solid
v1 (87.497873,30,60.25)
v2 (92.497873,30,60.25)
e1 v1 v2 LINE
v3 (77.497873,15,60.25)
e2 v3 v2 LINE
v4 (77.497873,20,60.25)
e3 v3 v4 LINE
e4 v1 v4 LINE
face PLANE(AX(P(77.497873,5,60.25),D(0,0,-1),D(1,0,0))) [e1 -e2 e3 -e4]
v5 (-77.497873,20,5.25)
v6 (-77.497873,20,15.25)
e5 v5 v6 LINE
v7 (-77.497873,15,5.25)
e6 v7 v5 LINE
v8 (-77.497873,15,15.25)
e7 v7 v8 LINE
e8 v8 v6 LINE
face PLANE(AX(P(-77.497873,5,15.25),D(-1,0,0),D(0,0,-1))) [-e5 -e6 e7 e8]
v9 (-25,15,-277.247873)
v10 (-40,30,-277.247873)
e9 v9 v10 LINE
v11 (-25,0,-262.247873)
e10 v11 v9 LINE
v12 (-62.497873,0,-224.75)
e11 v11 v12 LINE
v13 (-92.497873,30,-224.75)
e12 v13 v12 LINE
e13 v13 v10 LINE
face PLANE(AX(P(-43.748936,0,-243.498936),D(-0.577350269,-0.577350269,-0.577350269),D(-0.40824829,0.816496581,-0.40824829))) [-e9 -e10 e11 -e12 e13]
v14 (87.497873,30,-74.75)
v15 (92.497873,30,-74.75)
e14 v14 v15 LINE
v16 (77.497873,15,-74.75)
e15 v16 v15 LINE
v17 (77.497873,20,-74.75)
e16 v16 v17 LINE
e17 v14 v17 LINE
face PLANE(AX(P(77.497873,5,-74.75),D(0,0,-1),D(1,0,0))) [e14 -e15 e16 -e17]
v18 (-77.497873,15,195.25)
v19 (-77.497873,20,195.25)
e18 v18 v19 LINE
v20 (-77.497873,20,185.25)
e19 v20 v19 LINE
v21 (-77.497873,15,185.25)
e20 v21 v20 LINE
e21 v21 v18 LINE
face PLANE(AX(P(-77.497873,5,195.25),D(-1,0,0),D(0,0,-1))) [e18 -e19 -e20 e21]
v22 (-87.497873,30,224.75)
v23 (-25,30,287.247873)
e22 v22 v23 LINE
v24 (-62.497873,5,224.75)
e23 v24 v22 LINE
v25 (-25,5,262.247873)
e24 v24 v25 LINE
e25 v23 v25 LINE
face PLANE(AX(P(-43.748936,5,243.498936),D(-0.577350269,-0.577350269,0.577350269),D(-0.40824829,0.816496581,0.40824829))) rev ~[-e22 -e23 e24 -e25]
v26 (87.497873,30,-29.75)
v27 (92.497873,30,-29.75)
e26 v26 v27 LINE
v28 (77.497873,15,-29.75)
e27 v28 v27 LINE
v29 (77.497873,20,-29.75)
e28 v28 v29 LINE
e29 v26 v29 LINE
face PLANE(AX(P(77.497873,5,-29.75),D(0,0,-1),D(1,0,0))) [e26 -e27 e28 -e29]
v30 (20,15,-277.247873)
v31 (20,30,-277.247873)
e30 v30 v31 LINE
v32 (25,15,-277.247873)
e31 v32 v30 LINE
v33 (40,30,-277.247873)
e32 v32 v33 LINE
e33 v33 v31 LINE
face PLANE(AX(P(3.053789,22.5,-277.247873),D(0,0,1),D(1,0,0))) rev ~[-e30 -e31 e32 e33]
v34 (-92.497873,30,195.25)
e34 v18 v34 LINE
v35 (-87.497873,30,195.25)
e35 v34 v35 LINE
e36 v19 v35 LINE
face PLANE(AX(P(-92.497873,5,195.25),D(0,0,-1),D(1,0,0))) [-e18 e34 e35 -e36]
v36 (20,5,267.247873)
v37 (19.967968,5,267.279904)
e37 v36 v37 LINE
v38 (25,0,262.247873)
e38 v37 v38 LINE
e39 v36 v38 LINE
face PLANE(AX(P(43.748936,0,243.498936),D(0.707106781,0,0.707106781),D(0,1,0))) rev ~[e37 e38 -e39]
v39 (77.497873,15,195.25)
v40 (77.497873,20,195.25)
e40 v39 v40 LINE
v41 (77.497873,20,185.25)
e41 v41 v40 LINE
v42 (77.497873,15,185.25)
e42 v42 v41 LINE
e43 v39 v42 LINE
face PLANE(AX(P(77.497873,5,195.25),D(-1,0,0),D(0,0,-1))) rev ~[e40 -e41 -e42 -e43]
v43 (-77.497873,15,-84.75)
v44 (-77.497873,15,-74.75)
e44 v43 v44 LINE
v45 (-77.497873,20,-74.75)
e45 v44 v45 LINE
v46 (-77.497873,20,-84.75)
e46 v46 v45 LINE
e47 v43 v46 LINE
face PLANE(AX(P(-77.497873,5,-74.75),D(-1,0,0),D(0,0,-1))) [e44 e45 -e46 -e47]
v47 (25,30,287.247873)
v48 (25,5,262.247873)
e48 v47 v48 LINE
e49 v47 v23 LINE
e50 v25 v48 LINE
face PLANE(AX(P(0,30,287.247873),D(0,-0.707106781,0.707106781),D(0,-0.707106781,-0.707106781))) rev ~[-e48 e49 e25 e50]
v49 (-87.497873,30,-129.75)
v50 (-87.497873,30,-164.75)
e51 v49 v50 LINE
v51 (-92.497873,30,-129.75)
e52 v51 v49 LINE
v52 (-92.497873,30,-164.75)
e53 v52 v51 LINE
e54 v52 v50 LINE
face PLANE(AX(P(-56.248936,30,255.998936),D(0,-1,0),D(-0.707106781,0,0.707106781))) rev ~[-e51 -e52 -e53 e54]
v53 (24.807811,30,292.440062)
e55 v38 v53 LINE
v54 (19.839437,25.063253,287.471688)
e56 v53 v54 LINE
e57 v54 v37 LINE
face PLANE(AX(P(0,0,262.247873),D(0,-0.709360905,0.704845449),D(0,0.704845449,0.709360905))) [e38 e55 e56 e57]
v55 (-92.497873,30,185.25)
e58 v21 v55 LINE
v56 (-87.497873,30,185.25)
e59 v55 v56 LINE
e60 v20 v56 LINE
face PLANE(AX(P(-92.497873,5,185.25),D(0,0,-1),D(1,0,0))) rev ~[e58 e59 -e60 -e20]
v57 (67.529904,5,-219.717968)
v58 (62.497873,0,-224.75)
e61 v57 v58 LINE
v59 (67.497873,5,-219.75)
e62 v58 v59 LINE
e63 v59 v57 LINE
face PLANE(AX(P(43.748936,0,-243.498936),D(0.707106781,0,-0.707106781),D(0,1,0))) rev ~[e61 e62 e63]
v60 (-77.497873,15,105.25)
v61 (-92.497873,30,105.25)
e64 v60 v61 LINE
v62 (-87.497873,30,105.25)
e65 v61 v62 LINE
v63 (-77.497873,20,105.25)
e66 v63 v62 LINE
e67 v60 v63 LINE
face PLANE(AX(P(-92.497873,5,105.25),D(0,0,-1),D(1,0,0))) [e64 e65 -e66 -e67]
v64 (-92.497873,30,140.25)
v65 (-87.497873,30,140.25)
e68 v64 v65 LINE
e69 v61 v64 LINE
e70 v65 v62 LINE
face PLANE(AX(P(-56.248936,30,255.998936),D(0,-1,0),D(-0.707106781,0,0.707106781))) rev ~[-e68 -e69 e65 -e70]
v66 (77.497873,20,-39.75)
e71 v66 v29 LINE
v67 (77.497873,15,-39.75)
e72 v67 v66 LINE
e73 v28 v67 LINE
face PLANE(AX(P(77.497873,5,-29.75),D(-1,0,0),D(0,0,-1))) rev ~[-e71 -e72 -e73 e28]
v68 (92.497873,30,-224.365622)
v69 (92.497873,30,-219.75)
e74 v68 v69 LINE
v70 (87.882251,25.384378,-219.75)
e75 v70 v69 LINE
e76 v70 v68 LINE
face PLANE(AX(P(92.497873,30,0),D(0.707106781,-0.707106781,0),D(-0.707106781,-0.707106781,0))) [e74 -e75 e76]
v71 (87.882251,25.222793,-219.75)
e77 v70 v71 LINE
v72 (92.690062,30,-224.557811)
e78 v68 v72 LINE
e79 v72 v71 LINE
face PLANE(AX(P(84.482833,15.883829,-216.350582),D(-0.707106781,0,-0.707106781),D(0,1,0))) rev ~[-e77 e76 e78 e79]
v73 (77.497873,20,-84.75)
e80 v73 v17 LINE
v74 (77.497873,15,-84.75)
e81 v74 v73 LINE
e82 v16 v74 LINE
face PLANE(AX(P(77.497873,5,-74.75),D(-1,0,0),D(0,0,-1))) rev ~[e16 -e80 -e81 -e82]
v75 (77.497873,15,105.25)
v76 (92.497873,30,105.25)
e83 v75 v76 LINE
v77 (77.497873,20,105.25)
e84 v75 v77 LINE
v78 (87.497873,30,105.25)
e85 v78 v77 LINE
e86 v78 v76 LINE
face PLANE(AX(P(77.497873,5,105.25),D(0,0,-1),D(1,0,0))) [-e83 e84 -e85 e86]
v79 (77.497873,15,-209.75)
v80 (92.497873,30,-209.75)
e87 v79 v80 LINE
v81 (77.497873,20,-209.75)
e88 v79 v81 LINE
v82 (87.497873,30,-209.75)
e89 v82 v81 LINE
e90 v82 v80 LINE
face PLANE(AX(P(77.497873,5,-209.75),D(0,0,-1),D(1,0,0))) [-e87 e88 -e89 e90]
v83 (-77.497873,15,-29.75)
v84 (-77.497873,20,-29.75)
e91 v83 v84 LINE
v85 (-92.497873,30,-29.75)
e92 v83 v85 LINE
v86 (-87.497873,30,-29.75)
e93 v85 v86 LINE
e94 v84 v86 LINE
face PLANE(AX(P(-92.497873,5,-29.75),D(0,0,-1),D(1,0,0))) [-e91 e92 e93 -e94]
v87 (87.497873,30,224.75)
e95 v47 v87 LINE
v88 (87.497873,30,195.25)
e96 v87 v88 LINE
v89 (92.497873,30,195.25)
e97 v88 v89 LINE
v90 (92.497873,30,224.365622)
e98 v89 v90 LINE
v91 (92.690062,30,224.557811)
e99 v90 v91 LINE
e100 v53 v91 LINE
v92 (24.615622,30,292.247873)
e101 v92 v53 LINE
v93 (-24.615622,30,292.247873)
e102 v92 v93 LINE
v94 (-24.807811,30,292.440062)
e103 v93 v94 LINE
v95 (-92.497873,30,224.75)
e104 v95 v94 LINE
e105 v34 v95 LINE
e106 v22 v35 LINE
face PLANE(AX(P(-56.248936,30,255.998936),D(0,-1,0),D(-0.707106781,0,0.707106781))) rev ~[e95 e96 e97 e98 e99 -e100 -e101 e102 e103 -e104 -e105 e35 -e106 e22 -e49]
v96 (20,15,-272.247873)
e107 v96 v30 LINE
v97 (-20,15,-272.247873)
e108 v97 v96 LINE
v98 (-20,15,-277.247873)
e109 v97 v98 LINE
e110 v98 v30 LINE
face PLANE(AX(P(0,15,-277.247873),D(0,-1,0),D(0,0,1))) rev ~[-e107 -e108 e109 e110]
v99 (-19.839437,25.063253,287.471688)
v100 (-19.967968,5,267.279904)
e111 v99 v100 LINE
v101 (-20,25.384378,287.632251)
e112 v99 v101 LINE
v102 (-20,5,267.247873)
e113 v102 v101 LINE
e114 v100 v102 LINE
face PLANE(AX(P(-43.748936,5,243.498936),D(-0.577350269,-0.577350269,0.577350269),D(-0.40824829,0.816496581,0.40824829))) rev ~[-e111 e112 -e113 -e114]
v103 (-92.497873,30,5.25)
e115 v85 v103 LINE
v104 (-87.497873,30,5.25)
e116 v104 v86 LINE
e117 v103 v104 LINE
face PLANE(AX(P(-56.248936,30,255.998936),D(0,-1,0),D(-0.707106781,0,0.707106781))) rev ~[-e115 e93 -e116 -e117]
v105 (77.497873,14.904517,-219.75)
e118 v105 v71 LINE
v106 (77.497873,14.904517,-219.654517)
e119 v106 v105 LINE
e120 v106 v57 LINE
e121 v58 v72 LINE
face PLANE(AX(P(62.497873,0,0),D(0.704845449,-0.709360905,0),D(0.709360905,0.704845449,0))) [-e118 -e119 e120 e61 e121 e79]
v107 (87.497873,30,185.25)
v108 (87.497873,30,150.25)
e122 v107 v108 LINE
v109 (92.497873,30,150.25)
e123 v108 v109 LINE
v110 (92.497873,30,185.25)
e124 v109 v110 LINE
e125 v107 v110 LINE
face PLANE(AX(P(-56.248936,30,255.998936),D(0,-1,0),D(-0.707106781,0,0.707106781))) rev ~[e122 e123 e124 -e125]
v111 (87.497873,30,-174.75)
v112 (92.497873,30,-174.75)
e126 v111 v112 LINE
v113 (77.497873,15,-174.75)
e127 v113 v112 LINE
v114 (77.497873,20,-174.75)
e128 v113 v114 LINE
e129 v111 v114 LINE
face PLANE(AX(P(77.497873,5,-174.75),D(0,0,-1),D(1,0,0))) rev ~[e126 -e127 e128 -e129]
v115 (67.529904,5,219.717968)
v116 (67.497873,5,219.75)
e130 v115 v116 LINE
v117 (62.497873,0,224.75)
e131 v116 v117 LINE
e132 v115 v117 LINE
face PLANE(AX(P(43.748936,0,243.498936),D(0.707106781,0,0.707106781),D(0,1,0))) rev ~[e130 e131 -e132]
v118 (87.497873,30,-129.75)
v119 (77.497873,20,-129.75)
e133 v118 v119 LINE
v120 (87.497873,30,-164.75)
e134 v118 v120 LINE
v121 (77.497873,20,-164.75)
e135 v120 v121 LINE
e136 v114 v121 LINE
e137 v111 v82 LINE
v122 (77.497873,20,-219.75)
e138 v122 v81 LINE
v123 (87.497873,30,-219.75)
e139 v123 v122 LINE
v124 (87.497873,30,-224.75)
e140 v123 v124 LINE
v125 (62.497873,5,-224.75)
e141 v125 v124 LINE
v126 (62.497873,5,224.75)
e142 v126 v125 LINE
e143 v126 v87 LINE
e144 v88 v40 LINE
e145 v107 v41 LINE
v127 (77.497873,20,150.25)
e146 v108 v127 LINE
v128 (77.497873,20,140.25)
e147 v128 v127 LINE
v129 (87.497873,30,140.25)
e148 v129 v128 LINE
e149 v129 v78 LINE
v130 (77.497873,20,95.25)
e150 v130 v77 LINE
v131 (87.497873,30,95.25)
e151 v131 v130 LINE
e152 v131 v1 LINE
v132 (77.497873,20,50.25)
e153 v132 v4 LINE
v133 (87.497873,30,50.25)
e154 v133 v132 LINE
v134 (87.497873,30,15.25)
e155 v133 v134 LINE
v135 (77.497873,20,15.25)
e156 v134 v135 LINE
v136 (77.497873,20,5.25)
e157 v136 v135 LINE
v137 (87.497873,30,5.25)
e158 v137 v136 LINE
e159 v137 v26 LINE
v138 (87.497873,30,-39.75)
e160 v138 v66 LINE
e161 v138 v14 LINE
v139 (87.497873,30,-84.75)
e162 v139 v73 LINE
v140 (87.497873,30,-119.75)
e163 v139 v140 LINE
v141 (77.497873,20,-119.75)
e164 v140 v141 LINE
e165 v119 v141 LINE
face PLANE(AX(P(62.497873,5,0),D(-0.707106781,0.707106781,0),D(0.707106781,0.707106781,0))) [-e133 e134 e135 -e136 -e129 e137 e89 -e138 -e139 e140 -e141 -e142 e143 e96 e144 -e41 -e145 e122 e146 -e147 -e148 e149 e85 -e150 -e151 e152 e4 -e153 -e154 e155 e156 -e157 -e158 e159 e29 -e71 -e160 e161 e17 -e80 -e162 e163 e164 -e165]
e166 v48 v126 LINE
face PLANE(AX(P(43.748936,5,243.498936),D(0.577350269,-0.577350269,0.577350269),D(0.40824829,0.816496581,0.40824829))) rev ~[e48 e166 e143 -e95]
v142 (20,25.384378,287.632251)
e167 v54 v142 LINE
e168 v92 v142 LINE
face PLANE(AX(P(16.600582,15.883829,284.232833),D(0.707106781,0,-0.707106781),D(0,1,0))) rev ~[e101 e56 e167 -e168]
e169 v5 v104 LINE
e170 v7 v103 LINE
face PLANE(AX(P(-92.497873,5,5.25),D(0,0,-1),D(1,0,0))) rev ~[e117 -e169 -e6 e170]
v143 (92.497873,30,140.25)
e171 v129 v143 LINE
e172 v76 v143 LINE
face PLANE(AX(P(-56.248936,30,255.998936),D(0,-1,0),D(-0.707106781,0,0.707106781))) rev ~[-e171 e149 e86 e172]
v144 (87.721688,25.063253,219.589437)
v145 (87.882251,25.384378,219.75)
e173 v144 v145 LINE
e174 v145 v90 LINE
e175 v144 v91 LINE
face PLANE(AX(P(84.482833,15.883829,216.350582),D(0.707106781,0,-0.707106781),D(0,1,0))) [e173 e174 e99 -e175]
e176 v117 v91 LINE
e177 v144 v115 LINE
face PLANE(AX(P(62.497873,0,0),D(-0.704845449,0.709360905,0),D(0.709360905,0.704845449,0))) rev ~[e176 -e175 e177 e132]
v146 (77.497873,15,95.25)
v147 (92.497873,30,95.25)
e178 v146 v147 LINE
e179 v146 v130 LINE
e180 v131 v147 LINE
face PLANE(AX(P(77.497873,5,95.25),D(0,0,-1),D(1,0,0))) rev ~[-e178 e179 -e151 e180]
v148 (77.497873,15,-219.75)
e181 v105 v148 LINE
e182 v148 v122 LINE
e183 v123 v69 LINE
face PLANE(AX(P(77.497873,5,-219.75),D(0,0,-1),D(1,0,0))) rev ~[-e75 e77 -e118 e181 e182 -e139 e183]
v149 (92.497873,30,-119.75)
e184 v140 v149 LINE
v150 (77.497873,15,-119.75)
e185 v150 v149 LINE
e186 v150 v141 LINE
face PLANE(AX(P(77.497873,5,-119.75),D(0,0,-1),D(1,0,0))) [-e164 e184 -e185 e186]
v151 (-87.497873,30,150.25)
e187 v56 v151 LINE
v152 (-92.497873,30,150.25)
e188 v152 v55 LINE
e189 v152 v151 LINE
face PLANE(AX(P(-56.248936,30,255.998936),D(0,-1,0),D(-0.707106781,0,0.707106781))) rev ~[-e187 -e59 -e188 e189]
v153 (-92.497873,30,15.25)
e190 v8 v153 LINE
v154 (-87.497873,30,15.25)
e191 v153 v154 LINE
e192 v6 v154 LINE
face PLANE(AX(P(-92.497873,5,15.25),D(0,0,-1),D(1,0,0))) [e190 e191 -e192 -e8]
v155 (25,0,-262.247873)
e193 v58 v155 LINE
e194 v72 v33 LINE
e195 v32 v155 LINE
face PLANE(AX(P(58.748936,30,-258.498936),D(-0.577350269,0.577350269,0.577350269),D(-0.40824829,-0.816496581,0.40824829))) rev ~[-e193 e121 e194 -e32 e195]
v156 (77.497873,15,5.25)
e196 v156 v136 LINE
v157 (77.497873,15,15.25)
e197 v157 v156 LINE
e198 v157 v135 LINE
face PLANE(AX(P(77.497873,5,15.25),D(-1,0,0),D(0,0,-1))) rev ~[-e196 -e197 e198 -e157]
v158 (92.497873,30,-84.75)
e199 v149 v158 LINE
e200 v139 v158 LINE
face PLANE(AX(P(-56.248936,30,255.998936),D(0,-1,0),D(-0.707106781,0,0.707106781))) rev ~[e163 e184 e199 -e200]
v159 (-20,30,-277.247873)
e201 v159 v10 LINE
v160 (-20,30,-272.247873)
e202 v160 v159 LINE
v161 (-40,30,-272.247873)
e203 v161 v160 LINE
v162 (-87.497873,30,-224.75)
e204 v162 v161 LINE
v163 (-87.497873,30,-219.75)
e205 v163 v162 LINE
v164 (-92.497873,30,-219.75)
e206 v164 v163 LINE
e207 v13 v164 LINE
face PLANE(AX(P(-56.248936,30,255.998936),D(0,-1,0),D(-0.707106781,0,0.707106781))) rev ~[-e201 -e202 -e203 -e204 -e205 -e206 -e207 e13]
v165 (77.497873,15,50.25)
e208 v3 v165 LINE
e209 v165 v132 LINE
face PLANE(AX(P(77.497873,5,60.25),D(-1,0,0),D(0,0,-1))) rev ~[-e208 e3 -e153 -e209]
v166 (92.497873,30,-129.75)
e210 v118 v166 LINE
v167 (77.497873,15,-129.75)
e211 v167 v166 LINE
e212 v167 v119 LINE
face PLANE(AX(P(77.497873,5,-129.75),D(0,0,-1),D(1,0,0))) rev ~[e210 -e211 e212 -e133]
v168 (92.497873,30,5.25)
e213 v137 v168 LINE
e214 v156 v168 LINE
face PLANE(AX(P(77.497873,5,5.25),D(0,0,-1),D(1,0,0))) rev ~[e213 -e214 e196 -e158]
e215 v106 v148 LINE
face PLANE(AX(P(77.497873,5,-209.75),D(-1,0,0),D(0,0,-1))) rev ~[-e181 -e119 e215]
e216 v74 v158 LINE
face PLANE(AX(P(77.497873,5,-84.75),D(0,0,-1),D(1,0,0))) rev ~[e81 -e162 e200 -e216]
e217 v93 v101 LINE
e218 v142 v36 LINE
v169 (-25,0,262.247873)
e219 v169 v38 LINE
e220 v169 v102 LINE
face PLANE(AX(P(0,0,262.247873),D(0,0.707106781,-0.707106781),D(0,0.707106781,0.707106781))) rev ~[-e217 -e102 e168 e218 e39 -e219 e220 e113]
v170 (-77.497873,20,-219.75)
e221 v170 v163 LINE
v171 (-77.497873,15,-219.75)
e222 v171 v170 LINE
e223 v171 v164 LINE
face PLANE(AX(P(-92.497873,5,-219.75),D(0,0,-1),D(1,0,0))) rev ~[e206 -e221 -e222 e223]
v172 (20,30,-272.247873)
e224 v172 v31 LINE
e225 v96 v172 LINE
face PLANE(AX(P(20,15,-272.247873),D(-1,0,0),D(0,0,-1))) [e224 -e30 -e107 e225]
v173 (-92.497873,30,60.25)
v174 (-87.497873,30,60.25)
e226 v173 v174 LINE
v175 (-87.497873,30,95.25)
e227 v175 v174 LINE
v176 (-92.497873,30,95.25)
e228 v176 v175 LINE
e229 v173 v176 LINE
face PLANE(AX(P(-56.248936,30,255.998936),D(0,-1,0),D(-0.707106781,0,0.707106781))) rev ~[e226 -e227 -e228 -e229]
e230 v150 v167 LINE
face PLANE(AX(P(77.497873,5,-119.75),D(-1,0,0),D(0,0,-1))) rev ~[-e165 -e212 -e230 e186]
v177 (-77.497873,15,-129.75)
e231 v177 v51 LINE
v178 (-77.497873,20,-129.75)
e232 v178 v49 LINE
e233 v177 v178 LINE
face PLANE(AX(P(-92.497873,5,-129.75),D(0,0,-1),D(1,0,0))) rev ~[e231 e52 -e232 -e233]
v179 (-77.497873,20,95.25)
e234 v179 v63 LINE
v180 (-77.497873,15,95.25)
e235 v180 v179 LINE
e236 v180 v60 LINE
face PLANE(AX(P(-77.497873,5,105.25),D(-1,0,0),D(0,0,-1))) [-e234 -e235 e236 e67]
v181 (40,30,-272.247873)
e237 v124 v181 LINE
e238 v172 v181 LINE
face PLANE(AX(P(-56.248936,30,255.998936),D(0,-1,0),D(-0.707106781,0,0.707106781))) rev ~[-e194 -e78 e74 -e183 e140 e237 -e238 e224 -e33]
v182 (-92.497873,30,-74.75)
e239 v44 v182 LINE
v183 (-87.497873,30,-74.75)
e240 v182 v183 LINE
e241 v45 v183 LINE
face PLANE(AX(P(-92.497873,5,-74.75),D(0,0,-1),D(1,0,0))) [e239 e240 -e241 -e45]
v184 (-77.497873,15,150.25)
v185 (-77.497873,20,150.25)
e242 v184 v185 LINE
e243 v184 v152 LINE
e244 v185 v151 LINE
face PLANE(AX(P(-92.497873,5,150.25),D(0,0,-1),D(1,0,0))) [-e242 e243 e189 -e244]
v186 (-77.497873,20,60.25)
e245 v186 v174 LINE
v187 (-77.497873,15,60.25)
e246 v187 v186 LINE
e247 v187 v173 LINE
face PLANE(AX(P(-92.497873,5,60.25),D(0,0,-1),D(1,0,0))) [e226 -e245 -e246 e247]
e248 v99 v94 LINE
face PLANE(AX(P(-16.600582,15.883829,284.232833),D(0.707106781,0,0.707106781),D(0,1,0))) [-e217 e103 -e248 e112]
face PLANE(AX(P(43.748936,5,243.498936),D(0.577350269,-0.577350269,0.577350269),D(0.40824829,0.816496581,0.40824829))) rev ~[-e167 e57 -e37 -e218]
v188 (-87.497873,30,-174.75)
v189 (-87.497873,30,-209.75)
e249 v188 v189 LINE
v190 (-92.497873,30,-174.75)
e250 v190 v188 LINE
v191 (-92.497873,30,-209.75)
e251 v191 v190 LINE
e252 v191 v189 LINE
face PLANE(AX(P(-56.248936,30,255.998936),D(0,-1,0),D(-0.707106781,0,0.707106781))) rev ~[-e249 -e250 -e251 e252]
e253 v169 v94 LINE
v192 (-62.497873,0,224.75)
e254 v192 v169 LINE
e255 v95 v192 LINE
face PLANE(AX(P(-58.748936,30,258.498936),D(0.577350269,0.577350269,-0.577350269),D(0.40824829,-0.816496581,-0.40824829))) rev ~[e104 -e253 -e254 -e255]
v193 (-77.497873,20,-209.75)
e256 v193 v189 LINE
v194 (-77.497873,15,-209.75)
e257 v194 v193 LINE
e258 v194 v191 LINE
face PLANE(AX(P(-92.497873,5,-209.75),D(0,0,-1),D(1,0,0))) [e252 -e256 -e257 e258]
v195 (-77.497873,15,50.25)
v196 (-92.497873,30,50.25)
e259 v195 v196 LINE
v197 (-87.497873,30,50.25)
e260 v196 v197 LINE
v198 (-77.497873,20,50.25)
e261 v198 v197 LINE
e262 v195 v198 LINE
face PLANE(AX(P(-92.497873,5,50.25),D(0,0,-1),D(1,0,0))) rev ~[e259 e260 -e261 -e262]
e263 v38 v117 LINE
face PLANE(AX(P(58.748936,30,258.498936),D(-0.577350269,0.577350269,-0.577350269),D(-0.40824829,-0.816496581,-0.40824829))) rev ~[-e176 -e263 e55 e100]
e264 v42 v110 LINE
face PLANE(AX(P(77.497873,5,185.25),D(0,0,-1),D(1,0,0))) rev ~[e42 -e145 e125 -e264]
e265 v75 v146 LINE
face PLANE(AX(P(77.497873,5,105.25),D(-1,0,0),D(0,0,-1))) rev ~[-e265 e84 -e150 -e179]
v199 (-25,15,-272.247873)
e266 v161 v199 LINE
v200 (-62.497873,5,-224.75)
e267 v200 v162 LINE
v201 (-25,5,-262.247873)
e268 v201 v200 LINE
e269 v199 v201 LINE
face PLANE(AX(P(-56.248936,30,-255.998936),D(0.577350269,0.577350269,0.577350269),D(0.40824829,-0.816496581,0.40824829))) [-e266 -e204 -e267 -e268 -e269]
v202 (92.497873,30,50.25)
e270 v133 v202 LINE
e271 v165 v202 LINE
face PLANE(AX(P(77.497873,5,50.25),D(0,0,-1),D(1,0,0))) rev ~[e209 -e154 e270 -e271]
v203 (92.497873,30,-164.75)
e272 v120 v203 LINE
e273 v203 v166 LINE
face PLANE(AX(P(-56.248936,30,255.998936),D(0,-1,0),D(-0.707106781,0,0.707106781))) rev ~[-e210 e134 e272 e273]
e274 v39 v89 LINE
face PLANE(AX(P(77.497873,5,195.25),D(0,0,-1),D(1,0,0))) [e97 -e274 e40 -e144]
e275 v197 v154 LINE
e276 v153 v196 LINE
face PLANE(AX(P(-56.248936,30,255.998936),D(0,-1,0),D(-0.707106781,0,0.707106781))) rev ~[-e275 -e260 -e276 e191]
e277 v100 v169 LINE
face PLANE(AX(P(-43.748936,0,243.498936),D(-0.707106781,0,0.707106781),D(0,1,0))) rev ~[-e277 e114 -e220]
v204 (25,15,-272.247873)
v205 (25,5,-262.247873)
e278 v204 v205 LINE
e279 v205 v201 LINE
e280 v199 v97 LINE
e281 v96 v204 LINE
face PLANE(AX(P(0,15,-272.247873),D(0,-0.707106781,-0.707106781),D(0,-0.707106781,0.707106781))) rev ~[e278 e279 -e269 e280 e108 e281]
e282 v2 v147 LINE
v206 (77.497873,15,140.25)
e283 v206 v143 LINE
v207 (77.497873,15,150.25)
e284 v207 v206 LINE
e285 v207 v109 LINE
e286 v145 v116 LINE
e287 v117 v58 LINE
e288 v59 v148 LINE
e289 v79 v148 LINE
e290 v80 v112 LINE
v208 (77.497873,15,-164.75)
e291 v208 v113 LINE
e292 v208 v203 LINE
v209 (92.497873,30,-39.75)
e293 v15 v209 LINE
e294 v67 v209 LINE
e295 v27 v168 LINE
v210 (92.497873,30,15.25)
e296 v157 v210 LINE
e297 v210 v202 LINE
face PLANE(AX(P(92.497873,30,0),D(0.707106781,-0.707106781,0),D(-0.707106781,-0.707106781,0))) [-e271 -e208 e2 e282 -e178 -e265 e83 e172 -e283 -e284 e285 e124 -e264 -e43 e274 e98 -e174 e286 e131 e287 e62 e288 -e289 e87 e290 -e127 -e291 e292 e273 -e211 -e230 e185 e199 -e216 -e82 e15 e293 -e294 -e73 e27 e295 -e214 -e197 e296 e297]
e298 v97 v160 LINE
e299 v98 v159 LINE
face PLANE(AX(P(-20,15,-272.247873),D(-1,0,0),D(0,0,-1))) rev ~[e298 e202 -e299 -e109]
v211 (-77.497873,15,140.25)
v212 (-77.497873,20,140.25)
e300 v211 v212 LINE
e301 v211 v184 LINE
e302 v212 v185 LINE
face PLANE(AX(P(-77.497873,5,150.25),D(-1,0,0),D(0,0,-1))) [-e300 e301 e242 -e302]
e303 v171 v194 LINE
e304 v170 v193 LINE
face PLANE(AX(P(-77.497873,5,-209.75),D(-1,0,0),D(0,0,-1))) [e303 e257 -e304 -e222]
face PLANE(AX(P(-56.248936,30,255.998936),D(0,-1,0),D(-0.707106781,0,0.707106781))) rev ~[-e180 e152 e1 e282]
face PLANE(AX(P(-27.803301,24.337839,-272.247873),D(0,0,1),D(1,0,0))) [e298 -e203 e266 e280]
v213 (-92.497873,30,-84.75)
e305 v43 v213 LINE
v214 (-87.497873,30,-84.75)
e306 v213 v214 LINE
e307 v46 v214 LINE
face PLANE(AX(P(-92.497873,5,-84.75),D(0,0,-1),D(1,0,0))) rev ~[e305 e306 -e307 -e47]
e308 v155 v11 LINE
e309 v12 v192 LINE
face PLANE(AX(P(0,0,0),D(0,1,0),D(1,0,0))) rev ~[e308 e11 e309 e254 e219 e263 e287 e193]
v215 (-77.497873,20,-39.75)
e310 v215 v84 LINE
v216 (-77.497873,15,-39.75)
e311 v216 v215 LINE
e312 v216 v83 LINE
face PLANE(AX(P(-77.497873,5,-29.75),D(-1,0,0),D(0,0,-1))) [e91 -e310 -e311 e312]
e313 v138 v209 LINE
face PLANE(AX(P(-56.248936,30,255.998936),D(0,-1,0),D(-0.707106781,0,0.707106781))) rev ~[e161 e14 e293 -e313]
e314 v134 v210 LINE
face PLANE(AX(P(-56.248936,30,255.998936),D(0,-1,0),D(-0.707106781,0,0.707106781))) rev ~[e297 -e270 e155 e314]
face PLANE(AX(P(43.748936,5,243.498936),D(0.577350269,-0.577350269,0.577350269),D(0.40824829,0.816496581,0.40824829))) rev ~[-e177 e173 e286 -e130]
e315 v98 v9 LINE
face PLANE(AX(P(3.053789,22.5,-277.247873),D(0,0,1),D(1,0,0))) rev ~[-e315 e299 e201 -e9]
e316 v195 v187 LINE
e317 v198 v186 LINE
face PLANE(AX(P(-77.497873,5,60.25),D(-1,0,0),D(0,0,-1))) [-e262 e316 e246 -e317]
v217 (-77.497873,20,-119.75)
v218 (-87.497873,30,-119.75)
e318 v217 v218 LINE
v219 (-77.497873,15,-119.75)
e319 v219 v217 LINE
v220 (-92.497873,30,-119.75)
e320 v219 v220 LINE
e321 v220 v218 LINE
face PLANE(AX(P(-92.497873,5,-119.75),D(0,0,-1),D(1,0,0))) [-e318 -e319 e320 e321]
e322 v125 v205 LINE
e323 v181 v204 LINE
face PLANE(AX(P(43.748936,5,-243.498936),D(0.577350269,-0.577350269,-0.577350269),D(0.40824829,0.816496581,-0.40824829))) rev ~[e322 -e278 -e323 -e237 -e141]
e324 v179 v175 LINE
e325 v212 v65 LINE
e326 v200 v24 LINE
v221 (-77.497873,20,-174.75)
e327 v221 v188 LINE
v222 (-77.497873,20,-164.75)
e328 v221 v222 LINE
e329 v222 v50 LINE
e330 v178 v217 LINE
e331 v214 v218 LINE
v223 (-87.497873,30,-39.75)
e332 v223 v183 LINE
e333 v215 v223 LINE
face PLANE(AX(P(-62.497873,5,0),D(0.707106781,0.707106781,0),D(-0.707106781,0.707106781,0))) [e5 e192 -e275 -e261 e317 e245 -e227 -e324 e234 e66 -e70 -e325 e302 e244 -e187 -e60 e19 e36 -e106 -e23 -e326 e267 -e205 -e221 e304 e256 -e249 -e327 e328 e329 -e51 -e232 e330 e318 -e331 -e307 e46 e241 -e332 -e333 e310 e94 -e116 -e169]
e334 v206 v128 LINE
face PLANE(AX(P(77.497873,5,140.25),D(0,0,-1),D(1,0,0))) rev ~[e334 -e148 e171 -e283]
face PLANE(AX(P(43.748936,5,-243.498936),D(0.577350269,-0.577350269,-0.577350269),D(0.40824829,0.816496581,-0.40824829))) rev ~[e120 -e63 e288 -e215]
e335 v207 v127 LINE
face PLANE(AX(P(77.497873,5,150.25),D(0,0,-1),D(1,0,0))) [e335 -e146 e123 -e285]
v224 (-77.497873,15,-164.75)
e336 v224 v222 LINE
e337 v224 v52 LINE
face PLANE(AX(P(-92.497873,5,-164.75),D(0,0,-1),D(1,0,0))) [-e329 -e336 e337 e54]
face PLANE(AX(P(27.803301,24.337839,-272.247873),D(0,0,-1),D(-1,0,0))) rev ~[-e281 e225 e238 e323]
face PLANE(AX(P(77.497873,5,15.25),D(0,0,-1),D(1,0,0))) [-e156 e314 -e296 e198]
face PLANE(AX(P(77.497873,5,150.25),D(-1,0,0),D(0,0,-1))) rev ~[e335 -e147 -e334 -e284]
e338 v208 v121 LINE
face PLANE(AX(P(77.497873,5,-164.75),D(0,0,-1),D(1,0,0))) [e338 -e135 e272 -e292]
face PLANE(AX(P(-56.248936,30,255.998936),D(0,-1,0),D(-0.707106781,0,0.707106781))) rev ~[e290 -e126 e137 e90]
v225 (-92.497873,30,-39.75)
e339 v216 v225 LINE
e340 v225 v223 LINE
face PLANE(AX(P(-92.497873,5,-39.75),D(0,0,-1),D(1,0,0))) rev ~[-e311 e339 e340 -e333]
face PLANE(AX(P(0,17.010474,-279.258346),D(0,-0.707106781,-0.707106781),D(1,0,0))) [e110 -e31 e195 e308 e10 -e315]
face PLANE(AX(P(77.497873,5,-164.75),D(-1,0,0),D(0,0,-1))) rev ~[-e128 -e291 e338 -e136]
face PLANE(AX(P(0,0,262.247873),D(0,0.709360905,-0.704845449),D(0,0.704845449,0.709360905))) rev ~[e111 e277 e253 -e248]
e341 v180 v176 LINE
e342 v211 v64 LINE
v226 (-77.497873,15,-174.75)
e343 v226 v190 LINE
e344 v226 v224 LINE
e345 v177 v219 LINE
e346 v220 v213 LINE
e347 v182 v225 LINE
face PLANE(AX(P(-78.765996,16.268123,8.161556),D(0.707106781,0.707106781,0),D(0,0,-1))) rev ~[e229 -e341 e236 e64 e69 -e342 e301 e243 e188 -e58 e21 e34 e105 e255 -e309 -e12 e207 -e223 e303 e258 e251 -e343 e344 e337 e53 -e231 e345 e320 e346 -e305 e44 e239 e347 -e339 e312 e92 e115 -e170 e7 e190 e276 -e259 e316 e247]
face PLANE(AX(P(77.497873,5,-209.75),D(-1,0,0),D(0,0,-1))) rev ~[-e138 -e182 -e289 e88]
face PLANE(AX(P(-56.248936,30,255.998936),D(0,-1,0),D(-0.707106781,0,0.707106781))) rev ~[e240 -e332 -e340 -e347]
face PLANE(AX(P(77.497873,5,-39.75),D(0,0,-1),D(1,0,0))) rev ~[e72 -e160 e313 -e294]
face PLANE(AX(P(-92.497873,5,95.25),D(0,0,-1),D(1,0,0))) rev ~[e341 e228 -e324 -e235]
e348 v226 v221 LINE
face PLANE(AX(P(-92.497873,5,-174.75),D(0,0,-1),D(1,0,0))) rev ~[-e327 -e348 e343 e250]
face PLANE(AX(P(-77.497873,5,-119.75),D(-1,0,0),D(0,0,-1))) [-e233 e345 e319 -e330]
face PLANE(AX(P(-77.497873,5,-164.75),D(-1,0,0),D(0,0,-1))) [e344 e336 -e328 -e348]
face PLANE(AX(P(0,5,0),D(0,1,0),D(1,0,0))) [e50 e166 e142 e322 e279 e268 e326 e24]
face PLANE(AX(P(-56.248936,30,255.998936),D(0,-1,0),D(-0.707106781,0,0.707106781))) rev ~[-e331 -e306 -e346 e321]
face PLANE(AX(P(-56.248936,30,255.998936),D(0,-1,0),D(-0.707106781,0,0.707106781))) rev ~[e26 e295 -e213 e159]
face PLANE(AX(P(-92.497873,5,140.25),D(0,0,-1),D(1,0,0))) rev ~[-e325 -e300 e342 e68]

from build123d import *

# Parameters (mm, degrees)
BOSS_EXTRUDE1_DEPTH     = 5
BOSS_EXTRUDE2_DEPTH     = 224.75
BOSS_EXTRUDE3_DEPTH     = 25
SKETCH7_W               = 5
SKETCH7_H               = 5
BOSS_EXTRUDE5_DEPTH     = 15
BOSS_EXTRUDE6_DEPTH     = 50
BOSS_EXTRUDE7_DEPTH     = 48
BOSS_EXTRUDE8_DEPTH     = 48
BOSS_EXTRUDE9_DEPTH     = 48
CUT_EXTRUDE1_DEPTH      = 95.104275362
CUT_EXTRUDE1_DEPTH_BACK = 93.6900618
SKETCH20_W              = 50
SKETCH20_H              = 48.112885627
CUT_EXTRUDE2_DEPTH      = 105
CUT_EXTRUDE3_DEPTH      = 105
BOSS_EXTRUDE11_DEPTH    = 5
CUT_EXTRUDE4_DEPTH      = 293.4400618
CUT_EXTRUDE4_DEPTH_BACK = 278.247872606
CUT_EXTRUDE5_DEPTH      = 29
SKETCH25_W              = 15
SKETCH25_H              = 10
CUT_EXTRUDE6_DEPTH      = 26
CUT_EXTRUDE6_DEPTH_BACK = 6


with BuildPart() as part:
    # Sketch1 → Boss-Extrude1 (new body)
    with BuildSketch(Plane(origin=(0, 0, 0), x_dir=(1, 0, 0), z_dir=(0, 1, 0))):
        Polygon((62.497872606, -224.75), (62.497872606, 224.75), (25, 262.247872606), (-25, 262.247872606), (-62.497872606, 224.75), (-62.497872606, -224.75), (-25, -262.247872606), (25, -262.247872606), align=None)
    extrude(amount=BOSS_EXTRUDE1_DEPTH)

    # Sketch3 → Boss-Extrude2 (add, symmetric)
    with BuildSketch(Plane(origin=(0, 0, 0), x_dir=(0, -1, 0), z_dir=(0, 0, 1))):
        Polygon((0, 62.497872606), (-5, 62.497872606), (-30, 87.497872606), (-30, 92.497872606), align=None)
        Polygon((-30, -87.497872606), (-30, -92.497872606), (0, -62.497872606), (-5, -62.497872606), align=None)
    extrude(amount=BOSS_EXTRUDE2_DEPTH, both=True)

    # Sketch6 → Boss-Extrude3 (add, symmetric)
    with BuildSketch(Plane(origin=(0, 0, 0), x_dir=(0, -1, 0), z_dir=(-1, 0, 0))):
        Polygon((0, 262.247872606), (-30, 292.247872606), (-30, 287.247872606), (-5, 262.247872606), align=None)
        Polygon((0, -262.247872606), (-15, -277.247872606), (-15, -272.247872606), (-5, -262.247872606), align=None)
    extrude(amount=BOSS_EXTRUDE3_DEPTH, both=True)

    # Sketch7 → Boss-Extrude5 (add)
    with BuildSketch(Plane(origin=(0, 15, 0), x_dir=(1, 0, 0), z_dir=(0, 1, 0))):
        with Locations((-22.5, 274.747872606)):
            Rectangle(SKETCH7_W, SKETCH7_H)
        with Locations((22.5, 274.747872606)):
            Rectangle(SKETCH7_W, SKETCH7_H)
    extrude(amount=BOSS_EXTRUDE5_DEPTH)

    # Sketch10 → Boss-Extrude6 (add, symmetric)
    with BuildSketch(Plane(origin=(99.875, 0, -99.875), x_dir=(0, -1, 0), z_dir=(0.707106781, 0, -0.707106781))):
        Polygon((0, 203.114918601), (-30, 224.328122037), (-30, 220.792588131), (-5, 203.114918601), align=None)
    extrude(amount=BOSS_EXTRUDE6_DEPTH, both=True)

    # Sketch13 → Boss-Extrude7 (add, symmetric)
    with BuildSketch(Plane(origin=(-99.875, 0, -99.875), x_dir=(0, -1, 0), z_dir=(0.707106781, 0, 0.707106781))):
        Polygon((-5, 203.114918601), (-30, 220.792588131), (-30, 224.328122037), (0, 203.114918601), align=None)
    extrude(amount=BOSS_EXTRUDE7_DEPTH, both=True)

    # Sketch15 → Boss-Extrude8 (add, symmetric)
    with BuildSketch(Plane(origin=(-99.875, 0, 99.875), x_dir=(0, -1, 0), z_dir=(-0.707106781, 0, 0.707106781))):
        Polygon((-5, 203.114918601), (-30, 220.792588131), (-30, 224.328122037), (0, 203.114918601), align=None)
    extrude(amount=BOSS_EXTRUDE8_DEPTH, both=True)

    # Sketch17 → Boss-Extrude9 (add, symmetric)
    with BuildSketch(Plane(origin=(99.875, 0, 99.875), x_dir=(0, -1, 0), z_dir=(-0.707106781, 0, -0.707106781))):
        Polygon((-5, 203.114918601), (-30, 220.792588131), (-30, 224.328122037), (0, 203.114918601), align=None)
    extrude(amount=BOSS_EXTRUDE9_DEPTH, both=True)

    # Sketch18 → Cut-Extrude1 (cut, two sides)
    with BuildSketch(Plane(origin=(0, 0, 0), x_dir=(0, -1, 0), z_dir=(-1, 0, 0))) as cut_extrude1_sk:
        Polygon((0, 262.247872606), (-30, 292.4400618), (0, 277.4400618), align=None)
    extrude(amount=CUT_EXTRUDE1_DEPTH, mode=Mode.SUBTRACT)
    extrude(cut_extrude1_sk.sketch, amount=-CUT_EXTRUDE1_DEPTH_BACK, mode=Mode.SUBTRACT)

    # Sketch20 → Cut-Extrude2 (cut)
    with BuildSketch(Plane(origin=(0, -131.123936303, -131.123936303), x_dir=(1, 0, 0), z_dir=(0, -0.707106781, -0.707106781))):
        with Locations((0, -209.493691886)):
            Rectangle(SKETCH20_W, SKETCH20_H)
    extrude(amount=CUT_EXTRUDE2_DEPTH, mode=Mode.SUBTRACT)

    # Sketch21 → Cut-Extrude3 (cut)
    with BuildSketch(Plane(origin=(0, 0, -277.247872606), x_dir=(-1, 0, 0), z_dir=(0, 0, -1))):
        Polygon((20, 15), (-53.678843976, 15), (-53.678843976, 30), (47.571265033, 30), (47.571265033, 15), align=None)
    extrude(amount=CUT_EXTRUDE3_DEPTH, mode=Mode.SUBTRACT)

    # Sketch22 → Boss-Extrude11 (add)
    with BuildSketch(Plane(origin=(0, 0, -277.247872606), x_dir=(-1, 0, 0), z_dir=(0, 0, -1))):
        Polygon((-40, 30), (-25, 15), (-20, 15), (-20, 30), align=None)
        Polygon((20, 30), (40, 30), (25, 15), (20, 15), align=None)
    extrude(amount=-BOSS_EXTRUDE11_DEPTH)

    # Sketch23 → Cut-Extrude4 (cut, two sides)
    with BuildSketch(Plane(origin=(0, 0, 0), x_dir=(0, -1, 0), z_dir=(0, 0, 1))) as cut_extrude4_sk:
        Polygon((0, 62.497872606), (-30, 92.6900618), (0, 77.6900618), align=None)
    extrude(amount=CUT_EXTRUDE4_DEPTH, mode=Mode.SUBTRACT)
    extrude(cut_extrude4_sk.sketch, amount=-CUT_EXTRUDE4_DEPTH_BACK, mode=Mode.SUBTRACT)

    # Sketch24 → Cut-Extrude5 (cut)
    with BuildSketch(Plane(origin=(-31.248936303, -31.248936303, 0), x_dir=(0, 0, 1), z_dir=(-0.707106781, -0.707106781, 0))):
        Polygon((-224.75, 44.19266953), (-259.614343039, 44.19266953), (-259.614343039, 90.205869936), (275.937456007, 90.205869936), (275.937456007, 44.19266953), align=None)
    extrude(amount=CUT_EXTRUDE5_DEPTH, mode=Mode.SUBTRACT)

    # Sketch25 → Cut-Extrude6 (cut, two sides)
    with BuildSketch(Plane(origin=(0, 5, 0), x_dir=(1, 0, 0), z_dir=(0, 1, 0))) as cut_extrude6_sk:
        with Locations((84.997872606, 214.75)):
            Rectangle(SKETCH25_W, SKETCH25_H)
        with Locations((84.997872606, 169.75)):
            Rectangle(SKETCH25_W, SKETCH25_H)
        with Locations((84.997872606, 124.75)):
            Rectangle(SKETCH25_W, SKETCH25_H)
        with Locations((84.997872606, 79.75)):
            Rectangle(SKETCH25_W, SKETCH25_H)
        with Locations((84.997872606, 34.75)):
            Rectangle(SKETCH25_W, SKETCH25_H)
        with Locations((84.997872606, -10.25)):
            Rectangle(SKETCH25_W, SKETCH25_H)
        with Locations((84.997872606, -55.25)):
            Rectangle(SKETCH25_W, SKETCH25_H)
        with Locations((84.997872606, -190.25)):
            Rectangle(SKETCH25_W, SKETCH25_H)
        with Locations((84.997872606, -145.25)):
            Rectangle(SKETCH25_W, SKETCH25_H)
        with Locations((84.997872606, -100.25)):
            Rectangle(SKETCH25_W, SKETCH25_H)
        with Locations((-84.997872606, -190.25)):
            Rectangle(SKETCH25_W, SKETCH25_H)
        with Locations((-84.997872606, -145.25)):
            Rectangle(SKETCH25_W, SKETCH25_H)
        with Locations((-84.997872606, -100.25)):
            Rectangle(SKETCH25_W, SKETCH25_H)
        with Locations((-84.997872606, -55.25)):
            Rectangle(SKETCH25_W, SKETCH25_H)
        with Locations((-84.997872606, 34.75)):
            Rectangle(SKETCH25_W, SKETCH25_H)
        with Locations((-84.997872606, 214.75)):
            Rectangle(SKETCH25_W, SKETCH25_H)
        with Locations((-84.997872606, 169.75)):
            Rectangle(SKETCH25_W, SKETCH25_H)
        with Locations((-84.997872606, 124.75)):
            Rectangle(SKETCH25_W, SKETCH25_H)
        with Locations((-84.997872606, 79.75)):
            Rectangle(SKETCH25_W, SKETCH25_H)
        with Locations((-84.997872606, -10.25)):
            Rectangle(SKETCH25_W, SKETCH25_H)
    extrude(amount=CUT_EXTRUDE6_DEPTH, mode=Mode.SUBTRACT)
    extrude(cut_extrude6_sk.sketch, amount=-CUT_EXTRUDE6_DEPTH_BACK, mode=Mode.SUBTRACT)


solid = part.part
